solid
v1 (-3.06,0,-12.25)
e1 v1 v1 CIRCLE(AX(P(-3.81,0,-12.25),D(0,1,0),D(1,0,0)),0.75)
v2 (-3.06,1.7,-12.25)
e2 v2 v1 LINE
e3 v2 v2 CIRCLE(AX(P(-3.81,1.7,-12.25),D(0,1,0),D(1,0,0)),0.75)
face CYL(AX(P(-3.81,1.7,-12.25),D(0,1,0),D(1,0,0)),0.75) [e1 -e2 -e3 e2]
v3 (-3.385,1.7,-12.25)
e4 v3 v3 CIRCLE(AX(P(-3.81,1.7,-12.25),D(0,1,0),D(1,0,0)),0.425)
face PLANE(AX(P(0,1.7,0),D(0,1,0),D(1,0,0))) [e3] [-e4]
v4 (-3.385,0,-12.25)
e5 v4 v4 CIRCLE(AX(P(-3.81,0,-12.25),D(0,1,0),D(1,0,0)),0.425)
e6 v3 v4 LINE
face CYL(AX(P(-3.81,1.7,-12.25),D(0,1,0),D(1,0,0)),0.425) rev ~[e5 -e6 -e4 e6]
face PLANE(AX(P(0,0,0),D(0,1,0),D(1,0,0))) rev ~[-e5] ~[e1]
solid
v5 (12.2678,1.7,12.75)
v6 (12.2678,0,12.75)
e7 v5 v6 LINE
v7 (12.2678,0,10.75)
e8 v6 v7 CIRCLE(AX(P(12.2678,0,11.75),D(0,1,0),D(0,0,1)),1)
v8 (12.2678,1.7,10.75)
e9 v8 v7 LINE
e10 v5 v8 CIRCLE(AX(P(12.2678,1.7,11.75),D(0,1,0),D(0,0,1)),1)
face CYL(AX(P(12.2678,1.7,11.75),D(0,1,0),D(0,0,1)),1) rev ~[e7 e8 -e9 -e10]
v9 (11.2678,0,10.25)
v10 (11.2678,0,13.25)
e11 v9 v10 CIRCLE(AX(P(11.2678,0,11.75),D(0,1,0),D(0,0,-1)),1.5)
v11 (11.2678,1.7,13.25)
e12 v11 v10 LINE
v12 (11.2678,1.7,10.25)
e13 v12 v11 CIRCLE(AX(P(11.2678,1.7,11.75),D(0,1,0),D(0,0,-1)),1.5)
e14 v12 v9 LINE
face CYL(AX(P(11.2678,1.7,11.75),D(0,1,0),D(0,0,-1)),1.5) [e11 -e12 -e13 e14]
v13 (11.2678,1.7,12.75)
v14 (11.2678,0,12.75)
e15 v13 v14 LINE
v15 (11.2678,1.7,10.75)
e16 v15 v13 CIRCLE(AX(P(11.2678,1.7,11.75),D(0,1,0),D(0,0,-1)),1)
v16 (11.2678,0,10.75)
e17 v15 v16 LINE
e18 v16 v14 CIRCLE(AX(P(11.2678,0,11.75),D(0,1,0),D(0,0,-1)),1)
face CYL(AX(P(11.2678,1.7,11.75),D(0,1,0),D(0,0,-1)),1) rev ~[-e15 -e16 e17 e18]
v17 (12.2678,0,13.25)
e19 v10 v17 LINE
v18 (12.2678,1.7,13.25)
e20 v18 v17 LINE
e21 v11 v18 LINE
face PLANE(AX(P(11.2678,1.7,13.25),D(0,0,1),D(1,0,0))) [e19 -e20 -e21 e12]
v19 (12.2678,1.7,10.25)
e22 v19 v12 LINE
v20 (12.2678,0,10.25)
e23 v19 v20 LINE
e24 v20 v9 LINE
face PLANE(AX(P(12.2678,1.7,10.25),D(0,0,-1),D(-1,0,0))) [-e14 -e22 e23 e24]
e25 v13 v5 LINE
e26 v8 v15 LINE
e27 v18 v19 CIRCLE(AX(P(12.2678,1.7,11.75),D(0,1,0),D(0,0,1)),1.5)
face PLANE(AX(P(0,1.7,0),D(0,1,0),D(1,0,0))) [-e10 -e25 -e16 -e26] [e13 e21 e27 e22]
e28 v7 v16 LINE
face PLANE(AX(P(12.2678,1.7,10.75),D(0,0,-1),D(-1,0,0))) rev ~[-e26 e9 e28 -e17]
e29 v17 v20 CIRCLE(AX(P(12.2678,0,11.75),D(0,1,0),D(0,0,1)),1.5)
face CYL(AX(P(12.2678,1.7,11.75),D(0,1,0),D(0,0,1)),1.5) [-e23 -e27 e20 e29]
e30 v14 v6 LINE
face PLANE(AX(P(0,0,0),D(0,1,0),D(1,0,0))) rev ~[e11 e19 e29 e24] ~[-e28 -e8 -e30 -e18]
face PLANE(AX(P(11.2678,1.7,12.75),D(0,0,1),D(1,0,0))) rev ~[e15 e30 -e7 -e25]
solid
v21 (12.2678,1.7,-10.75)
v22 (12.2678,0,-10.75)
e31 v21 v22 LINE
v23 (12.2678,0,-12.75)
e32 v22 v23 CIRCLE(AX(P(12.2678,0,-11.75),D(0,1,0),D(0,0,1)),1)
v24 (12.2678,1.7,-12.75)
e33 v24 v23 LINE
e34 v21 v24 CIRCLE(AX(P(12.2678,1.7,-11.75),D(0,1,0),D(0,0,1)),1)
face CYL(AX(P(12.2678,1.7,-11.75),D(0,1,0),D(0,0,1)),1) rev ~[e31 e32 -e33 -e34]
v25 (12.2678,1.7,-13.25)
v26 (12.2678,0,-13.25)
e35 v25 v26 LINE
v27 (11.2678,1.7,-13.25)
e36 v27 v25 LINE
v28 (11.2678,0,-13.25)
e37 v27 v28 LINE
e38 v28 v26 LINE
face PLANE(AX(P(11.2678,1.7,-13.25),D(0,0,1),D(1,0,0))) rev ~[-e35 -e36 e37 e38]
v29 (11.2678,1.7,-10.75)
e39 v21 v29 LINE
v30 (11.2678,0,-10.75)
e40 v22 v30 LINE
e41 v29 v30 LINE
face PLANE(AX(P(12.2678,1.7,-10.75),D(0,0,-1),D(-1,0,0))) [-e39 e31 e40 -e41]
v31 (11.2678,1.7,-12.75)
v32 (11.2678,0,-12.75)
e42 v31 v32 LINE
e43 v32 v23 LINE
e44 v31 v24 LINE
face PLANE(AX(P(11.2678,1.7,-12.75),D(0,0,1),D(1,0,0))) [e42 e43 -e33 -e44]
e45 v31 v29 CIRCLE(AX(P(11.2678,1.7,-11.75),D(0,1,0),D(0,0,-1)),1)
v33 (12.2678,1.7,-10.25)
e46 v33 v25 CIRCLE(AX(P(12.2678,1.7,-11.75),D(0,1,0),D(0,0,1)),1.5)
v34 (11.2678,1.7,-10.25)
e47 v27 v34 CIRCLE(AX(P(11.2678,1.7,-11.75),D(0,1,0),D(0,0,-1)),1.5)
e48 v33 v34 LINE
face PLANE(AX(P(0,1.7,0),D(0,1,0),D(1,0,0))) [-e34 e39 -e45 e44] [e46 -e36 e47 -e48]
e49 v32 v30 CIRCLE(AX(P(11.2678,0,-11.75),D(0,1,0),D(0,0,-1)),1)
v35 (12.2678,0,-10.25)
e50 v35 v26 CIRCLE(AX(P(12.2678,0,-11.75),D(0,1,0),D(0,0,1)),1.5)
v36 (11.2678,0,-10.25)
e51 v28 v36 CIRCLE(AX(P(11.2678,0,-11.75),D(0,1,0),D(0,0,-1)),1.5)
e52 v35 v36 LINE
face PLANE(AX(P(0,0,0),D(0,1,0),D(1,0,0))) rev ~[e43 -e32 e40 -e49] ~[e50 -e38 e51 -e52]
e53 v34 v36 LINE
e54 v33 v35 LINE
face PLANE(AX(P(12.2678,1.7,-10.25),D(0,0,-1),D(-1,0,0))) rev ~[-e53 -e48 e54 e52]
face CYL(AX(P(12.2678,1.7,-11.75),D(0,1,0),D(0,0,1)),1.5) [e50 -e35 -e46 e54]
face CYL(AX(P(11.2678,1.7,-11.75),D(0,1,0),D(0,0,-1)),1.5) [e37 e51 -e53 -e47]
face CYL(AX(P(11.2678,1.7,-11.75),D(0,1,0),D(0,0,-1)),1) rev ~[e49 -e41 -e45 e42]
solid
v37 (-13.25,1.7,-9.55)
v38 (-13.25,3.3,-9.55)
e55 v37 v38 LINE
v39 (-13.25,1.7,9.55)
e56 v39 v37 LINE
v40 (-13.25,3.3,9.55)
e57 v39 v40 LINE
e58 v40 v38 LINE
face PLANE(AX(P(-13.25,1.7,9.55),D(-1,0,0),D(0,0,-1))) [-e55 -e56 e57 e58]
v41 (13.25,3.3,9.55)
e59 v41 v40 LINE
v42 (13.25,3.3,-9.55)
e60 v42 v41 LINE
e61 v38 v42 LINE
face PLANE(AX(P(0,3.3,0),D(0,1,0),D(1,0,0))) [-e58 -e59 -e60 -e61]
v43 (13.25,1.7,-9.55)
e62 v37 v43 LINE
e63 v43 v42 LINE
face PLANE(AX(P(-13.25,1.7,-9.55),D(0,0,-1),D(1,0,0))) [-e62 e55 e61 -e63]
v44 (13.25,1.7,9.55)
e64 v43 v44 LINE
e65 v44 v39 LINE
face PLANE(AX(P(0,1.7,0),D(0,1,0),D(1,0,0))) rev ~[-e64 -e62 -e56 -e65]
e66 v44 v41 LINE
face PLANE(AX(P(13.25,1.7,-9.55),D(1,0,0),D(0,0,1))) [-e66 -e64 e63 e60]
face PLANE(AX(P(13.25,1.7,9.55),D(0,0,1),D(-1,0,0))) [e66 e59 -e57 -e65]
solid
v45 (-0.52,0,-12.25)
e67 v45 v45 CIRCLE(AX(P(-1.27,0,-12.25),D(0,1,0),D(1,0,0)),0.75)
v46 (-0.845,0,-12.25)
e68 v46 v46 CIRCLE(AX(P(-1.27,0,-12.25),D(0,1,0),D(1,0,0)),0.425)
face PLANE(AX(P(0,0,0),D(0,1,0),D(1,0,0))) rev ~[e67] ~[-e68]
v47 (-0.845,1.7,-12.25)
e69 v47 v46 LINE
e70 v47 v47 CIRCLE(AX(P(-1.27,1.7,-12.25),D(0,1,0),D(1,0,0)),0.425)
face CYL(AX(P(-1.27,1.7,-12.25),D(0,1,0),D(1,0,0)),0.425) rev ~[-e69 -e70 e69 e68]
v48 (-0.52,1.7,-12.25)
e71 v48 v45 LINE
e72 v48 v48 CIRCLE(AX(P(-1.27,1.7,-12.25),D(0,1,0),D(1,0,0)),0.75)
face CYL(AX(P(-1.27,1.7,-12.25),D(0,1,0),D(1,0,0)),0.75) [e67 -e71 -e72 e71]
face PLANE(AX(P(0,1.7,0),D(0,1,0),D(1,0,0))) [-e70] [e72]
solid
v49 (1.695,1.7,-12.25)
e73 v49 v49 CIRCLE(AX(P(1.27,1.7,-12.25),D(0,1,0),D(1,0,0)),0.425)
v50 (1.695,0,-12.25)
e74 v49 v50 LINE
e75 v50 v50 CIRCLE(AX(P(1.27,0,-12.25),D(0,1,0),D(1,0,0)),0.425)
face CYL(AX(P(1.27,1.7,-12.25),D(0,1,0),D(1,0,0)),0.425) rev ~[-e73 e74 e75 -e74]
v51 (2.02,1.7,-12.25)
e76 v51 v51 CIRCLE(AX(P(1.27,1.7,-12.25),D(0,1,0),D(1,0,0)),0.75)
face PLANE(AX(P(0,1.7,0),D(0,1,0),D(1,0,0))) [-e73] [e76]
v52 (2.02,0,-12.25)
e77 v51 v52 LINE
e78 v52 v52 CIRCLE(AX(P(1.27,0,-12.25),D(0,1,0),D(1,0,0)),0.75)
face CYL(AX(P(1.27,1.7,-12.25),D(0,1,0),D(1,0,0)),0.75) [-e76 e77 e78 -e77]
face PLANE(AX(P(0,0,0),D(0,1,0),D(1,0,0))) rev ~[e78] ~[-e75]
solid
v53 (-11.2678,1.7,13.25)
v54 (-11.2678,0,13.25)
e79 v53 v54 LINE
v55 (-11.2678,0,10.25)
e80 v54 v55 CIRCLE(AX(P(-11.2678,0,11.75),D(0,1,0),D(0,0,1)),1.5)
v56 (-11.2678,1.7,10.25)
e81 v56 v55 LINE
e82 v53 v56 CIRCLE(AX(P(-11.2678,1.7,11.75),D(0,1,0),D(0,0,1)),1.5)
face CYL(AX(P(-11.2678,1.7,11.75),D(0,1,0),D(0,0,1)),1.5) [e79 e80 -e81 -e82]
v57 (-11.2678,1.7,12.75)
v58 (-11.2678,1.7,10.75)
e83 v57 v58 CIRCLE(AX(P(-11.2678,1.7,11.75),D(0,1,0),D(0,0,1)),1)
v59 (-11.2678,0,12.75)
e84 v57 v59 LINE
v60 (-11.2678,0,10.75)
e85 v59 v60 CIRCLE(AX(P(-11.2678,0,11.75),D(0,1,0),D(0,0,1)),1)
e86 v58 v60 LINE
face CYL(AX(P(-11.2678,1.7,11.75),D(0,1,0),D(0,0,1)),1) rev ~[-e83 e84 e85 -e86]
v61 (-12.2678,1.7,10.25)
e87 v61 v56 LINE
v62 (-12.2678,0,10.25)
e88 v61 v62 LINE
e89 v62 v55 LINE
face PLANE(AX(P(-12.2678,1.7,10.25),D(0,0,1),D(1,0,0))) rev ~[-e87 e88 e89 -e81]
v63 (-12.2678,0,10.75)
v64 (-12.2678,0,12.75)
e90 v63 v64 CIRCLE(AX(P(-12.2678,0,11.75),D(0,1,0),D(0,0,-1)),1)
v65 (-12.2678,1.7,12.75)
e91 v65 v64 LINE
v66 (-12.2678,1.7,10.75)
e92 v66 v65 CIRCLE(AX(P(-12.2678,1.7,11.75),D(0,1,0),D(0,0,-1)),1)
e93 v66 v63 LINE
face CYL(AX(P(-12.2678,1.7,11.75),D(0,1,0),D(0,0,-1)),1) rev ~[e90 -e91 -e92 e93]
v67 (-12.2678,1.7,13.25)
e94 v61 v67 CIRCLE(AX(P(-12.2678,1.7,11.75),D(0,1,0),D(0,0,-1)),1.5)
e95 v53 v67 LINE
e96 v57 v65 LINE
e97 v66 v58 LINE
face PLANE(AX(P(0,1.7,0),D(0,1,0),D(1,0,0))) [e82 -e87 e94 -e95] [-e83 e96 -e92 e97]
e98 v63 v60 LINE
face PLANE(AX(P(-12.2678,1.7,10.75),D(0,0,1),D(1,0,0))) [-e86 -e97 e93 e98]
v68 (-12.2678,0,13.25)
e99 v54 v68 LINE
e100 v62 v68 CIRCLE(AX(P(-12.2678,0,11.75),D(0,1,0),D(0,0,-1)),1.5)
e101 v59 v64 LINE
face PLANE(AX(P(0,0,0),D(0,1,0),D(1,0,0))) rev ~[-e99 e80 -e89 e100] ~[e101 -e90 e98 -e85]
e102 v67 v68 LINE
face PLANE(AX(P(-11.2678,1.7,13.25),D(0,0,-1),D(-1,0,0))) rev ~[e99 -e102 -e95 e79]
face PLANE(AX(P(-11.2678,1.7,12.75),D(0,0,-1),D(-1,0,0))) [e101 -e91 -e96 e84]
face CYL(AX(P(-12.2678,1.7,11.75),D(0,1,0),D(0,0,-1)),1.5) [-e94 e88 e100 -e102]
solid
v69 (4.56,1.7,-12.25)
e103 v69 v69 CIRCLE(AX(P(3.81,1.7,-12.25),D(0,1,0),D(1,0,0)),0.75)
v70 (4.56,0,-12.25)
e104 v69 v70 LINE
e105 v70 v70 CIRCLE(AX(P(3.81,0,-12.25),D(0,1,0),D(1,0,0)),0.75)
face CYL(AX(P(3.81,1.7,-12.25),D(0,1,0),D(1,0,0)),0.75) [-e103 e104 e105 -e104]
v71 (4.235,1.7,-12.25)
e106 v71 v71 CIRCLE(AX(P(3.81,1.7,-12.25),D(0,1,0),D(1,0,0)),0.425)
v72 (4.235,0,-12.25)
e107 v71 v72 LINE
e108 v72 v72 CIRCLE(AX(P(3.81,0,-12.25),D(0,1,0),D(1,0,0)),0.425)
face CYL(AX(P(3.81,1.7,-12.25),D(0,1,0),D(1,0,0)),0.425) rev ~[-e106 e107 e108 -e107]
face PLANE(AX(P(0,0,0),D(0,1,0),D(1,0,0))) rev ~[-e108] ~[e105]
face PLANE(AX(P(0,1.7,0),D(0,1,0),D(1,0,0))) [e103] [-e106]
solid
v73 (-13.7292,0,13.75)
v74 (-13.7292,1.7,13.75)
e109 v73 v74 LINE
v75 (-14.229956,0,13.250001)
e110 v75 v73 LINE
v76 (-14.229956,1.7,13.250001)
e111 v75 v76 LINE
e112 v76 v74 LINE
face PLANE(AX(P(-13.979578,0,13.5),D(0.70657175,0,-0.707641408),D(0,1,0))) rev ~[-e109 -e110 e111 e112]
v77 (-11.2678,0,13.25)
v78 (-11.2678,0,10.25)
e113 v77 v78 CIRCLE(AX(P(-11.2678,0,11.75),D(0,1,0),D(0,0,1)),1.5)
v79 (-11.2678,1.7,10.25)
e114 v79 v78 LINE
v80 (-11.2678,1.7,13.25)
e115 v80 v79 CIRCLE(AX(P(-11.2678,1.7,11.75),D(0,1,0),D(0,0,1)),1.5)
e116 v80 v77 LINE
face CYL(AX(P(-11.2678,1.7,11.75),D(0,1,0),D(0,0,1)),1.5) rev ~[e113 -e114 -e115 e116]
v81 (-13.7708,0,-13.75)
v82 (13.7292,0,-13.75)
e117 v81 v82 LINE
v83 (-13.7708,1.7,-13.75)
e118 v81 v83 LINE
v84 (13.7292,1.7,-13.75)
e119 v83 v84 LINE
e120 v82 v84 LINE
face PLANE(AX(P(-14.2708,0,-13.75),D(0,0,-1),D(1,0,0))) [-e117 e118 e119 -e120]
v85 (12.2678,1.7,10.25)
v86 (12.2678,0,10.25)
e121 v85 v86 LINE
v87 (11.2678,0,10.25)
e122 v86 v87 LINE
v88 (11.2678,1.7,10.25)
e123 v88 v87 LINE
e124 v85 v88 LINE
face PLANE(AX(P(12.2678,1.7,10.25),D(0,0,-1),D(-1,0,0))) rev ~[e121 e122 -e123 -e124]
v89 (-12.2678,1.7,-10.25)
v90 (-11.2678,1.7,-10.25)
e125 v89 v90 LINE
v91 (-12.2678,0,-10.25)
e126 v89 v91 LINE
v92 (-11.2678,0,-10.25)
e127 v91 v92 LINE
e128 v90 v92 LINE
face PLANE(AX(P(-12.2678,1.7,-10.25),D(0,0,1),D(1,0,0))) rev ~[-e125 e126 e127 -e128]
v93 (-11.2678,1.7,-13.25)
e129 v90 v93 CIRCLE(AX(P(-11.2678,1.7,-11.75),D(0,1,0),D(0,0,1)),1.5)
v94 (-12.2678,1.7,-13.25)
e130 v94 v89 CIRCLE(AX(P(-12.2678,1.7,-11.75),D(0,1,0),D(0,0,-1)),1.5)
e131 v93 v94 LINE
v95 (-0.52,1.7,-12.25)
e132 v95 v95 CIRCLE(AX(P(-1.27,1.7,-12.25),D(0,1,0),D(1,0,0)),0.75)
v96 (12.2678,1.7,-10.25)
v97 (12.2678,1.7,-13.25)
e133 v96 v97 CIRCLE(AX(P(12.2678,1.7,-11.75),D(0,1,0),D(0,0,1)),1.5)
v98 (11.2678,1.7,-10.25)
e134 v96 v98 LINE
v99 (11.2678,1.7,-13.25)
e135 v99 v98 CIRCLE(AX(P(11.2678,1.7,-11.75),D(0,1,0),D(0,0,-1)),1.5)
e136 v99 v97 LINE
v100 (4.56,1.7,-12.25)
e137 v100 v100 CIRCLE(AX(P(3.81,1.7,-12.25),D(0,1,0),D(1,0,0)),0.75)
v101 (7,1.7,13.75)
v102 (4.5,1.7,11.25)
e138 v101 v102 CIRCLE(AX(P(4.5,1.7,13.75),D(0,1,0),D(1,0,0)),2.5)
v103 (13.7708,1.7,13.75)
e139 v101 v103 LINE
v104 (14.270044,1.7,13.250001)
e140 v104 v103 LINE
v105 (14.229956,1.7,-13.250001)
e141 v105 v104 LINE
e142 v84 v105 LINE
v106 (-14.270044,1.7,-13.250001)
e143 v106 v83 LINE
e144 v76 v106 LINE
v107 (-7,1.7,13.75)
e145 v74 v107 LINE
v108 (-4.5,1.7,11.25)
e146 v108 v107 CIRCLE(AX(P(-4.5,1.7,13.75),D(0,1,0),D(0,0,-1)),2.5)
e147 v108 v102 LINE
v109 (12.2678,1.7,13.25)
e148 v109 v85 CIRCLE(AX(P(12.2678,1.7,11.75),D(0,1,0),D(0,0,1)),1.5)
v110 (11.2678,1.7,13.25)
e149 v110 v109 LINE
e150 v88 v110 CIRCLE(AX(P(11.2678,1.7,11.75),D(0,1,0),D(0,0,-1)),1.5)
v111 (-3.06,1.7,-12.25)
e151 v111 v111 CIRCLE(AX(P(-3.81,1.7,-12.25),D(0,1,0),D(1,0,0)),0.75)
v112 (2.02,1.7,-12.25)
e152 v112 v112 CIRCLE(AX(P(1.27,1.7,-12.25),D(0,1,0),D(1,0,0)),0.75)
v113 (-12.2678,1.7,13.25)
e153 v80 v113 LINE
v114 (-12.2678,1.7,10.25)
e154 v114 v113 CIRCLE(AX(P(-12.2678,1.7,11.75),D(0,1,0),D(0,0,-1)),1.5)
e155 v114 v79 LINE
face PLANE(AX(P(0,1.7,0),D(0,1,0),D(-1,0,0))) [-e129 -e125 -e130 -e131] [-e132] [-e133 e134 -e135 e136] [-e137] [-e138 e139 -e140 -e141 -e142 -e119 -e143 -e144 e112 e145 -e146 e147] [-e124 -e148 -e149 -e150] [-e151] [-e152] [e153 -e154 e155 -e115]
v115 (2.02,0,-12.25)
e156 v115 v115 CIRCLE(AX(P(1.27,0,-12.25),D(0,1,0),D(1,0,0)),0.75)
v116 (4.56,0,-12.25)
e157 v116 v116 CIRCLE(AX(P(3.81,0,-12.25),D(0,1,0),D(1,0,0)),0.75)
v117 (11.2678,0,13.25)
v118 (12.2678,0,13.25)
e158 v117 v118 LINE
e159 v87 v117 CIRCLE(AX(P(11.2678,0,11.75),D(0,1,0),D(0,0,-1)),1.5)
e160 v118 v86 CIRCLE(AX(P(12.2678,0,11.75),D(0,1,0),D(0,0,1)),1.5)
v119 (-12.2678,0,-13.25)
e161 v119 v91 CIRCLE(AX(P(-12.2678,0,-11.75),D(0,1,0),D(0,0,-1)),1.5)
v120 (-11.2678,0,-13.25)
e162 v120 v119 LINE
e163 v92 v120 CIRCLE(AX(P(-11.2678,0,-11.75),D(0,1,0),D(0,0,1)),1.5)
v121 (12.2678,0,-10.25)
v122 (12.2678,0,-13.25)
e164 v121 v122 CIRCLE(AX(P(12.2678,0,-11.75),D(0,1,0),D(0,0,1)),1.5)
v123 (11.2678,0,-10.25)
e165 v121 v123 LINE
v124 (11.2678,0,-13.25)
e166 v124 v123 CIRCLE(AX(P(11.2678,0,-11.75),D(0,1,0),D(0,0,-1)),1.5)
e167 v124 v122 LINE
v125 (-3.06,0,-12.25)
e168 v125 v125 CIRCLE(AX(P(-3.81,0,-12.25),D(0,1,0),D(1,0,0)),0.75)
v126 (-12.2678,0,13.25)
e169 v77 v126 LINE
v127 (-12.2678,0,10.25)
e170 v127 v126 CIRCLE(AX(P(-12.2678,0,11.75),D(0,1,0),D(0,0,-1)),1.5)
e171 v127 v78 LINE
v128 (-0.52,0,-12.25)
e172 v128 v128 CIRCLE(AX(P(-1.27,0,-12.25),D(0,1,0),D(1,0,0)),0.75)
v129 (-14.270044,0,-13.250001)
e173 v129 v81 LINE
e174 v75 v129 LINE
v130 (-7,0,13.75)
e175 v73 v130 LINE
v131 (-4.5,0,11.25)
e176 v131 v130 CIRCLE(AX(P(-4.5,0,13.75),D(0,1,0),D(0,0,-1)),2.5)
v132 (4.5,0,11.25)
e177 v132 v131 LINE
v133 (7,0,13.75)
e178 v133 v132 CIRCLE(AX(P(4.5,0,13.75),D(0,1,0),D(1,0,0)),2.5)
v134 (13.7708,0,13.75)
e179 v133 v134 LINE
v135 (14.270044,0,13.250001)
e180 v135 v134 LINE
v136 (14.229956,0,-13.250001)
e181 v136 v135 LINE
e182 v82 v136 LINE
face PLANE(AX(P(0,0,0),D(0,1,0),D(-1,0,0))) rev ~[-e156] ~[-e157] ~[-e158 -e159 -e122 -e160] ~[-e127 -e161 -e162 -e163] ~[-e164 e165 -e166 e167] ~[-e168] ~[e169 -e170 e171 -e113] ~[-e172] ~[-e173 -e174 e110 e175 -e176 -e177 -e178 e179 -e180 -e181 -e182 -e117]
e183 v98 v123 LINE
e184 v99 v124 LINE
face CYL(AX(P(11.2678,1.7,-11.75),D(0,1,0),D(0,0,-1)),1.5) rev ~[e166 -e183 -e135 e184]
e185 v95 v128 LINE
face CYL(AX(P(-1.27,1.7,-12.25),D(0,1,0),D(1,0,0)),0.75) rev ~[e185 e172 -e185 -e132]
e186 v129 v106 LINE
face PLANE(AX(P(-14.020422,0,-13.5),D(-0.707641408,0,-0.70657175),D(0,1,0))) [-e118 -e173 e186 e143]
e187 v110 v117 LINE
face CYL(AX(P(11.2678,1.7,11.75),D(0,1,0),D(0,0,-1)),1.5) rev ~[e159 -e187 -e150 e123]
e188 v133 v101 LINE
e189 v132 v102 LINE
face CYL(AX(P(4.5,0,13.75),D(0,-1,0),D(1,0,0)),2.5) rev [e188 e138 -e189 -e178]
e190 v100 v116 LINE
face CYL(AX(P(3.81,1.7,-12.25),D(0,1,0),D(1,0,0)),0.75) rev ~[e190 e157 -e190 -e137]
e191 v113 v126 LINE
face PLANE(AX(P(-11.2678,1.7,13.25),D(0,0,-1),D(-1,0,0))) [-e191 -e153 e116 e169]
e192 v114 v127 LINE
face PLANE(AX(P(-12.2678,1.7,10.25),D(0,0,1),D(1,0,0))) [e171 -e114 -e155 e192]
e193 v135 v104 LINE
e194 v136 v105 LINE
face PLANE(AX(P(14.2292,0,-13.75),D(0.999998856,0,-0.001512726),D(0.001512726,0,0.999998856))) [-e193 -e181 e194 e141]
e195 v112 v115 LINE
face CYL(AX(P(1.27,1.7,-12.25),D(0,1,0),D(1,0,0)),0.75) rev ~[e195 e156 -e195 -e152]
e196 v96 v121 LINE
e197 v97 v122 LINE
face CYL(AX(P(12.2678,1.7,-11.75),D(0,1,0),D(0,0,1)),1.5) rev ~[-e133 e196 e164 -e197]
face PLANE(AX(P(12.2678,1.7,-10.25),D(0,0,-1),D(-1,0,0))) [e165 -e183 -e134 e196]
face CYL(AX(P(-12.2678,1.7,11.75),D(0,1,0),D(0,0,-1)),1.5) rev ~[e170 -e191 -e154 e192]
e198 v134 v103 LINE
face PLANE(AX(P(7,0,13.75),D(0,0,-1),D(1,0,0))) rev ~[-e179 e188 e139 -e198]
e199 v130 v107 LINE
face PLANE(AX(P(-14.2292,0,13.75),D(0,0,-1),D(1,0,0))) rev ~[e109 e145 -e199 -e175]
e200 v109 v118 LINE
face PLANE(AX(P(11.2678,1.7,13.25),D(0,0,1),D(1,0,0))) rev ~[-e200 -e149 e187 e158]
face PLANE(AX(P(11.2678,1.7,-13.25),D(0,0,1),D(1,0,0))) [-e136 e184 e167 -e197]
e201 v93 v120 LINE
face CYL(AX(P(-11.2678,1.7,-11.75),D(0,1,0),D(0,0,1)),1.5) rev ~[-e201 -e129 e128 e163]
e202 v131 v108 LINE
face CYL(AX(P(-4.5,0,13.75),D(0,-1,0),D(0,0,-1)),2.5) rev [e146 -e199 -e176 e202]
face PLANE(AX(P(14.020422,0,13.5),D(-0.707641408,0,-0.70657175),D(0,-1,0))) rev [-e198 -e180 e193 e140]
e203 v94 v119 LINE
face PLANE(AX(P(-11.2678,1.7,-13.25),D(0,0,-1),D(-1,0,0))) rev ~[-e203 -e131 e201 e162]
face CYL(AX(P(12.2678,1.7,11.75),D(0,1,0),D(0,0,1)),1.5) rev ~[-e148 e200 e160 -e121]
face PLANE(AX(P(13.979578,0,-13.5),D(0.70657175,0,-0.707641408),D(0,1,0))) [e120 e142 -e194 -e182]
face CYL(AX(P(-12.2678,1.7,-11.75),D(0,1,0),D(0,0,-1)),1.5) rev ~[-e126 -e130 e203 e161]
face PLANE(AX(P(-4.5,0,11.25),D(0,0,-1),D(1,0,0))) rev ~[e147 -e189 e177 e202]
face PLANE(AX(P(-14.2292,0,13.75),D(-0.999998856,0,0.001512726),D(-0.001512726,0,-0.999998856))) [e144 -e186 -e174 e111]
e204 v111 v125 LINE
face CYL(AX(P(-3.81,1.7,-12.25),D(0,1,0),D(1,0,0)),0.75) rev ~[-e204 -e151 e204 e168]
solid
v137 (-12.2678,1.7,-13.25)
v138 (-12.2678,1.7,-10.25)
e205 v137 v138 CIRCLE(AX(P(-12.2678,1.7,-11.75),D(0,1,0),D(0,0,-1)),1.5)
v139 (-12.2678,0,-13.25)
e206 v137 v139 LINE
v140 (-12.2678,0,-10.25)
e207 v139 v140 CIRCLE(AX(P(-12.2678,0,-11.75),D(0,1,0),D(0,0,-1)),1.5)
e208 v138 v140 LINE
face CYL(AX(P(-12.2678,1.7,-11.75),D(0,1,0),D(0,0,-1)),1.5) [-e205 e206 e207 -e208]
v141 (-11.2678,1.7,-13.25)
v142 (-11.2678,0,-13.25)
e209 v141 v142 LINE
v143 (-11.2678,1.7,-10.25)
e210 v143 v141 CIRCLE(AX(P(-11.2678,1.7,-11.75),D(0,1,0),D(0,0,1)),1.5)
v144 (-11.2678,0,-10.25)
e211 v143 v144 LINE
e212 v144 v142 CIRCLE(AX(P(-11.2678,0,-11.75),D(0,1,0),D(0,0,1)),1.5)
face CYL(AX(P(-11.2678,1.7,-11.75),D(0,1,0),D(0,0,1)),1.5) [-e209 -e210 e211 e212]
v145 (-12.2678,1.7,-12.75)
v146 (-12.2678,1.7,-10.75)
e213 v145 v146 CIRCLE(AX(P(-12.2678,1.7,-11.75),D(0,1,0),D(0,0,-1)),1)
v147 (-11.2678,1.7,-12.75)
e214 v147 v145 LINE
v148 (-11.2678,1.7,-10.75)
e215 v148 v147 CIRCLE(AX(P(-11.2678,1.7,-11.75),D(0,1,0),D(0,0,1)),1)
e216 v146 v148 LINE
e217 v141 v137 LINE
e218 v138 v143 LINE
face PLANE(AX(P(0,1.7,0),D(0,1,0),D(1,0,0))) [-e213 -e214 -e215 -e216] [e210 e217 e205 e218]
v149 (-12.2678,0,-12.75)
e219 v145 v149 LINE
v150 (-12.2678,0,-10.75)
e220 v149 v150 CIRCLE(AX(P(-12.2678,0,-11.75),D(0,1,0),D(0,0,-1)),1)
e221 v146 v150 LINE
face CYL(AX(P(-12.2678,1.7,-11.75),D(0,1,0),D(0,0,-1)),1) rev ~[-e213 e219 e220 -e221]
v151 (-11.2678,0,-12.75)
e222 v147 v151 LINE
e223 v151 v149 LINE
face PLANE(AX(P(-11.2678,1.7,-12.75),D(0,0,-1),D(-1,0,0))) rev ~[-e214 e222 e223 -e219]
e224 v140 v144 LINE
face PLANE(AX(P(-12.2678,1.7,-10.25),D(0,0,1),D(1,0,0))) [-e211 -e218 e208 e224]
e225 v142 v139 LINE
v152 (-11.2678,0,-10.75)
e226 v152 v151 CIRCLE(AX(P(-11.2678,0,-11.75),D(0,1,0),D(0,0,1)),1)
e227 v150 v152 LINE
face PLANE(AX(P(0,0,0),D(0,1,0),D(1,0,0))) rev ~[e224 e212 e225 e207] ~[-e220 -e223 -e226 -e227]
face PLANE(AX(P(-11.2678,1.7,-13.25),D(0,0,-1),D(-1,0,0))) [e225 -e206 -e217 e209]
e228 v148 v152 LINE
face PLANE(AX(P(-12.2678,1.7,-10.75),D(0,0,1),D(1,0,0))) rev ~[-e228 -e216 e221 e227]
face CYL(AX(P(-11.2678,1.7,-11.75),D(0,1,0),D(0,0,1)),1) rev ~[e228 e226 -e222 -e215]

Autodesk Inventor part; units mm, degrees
ref_plane "YZ Plane" through (0, 0, 0) normal (1, 0, 0) x (0, 1, 0)
ref_plane "XZ Plane" through (0, 0, 0) normal (0, 1, 0) x (-1, 0, 0)
ref_plane "XY Plane" through (0, 0, 0) normal (0, 0, 1) x (1, 0, 0)
sketch "Sketch1" plane through (0, 0, 0) normal (0, 1, 0) x (-1, 0, 0)
  line L0 (14.2292, 13.75) -> (14.2708, -13.75)
  line L1 (14.2708, -13.75) -> (-14.2292, -13.75)
  line L2 (-14.2292, -13.75) -> (-14.2708, 13.75)
  line L3 (-14.2708, 13.75) -> (14.2708, -13.75) construction
  line L4 (14.2292, 13.75) -> (-14.2292, -13.75) construction
  line L5 (14.2292, 13.75) -> (7, 13.75)
  line L6 (4.5, 11.25) -> (-4.5, 11.25)
  line L7 (-7, 13.75) -> (-14.2708, 13.75)
  arc A0 (-7, 13.75) -> (-4.5, 11.25) centre (-4.5, 13.75) ccw
  arc A1 (4.5, 11.25) -> (7, 13.75) centre (4.5, 13.75) ccw
  line L8 (0, 0) -> (0, -4.4345)
  line L9 (0, 11.25) -> (0, 7.5255)
  dimension "d0" = 28.5
  dimension "d1" = 27.5
  dimension "d2" = 2.5
  dimension "d3" = 14
extrude "Extrusion1" add sketch "Sketch1" along normal blind 1.7
chamfer "Chamfer1" distance 0.5 angle 45 4 edges at (14.2708, 0.85, 13.75) (-14.2292, 0.85, 13.75) (14.2292, 0.85, -13.75) (-14.2708, 0.85, -13.75)
sketch "Sketch2" plane through (0, 1.7, 0) normal (0, 1, 0) x (1, 0, 0)
  line L0 (-13.2678, 11.75) -> (-10.2678, 11.75) construction
  line L1 (-12.2678, 10.75) -> (-11.2678, 10.75)
  line L2 (-11.2678, 12.75) -> (-12.2678, 12.75)
  arc A0 (-12.2678, 12.75) -> (-12.2678, 10.75) centre (-12.2678, 11.75) ccw
  arc A1 (-11.2678, 10.75) -> (-11.2678, 12.75) centre (-11.2678, 11.75) ccw
  line L3 (-11.2678, 13.25) -> (-12.2678, 13.25)
  arc A2 (-12.2678, 13.25) -> (-12.2678, 10.25) centre (-12.2678, 11.75) ccw
  line L4 (-12.2678, 10.25) -> (-11.2678, 10.25)
  arc A3 (-11.2678, 10.25) -> (-11.2678, 13.25) centre (-11.2678, 11.75) ccw
  line L5 (13.7292, 13.75) -> (-13.7708, 13.75) projected
  line L6 (-14.2701, 13.25) -> (-14.2299, -13.25) projected
  line L7 (0, 0) -> (-2.3297, 0)
  line L8 (0, 0) -> (0, 4.8141)
  line L9 (13.2678, 11.75) -> (10.2678, 11.75) construction
  line L10 (12.2678, 10.75) -> (11.2678, 10.75)
  line L11 (11.2678, 12.75) -> (12.2678, 12.75)
  arc A4 (12.2678, 10.75) -> (12.2678, 12.75) centre (12.2678, 11.75) ccw
  arc A5 (11.2678, 12.75) -> (11.2678, 10.75) centre (11.2678, 11.75) ccw
  line L12 (11.2678, 13.25) -> (12.2678, 13.25)
  arc A6 (12.2678, 10.25) -> (12.2678, 13.25) centre (12.2678, 11.75) ccw
  line L13 (12.2678, 10.25) -> (11.2678, 10.25)
  arc A7 (11.2678, 13.25) -> (11.2678, 10.25) centre (11.2678, 11.75) ccw
  line L14 (-13.2678, -11.75) -> (-10.2678, -11.75) construction
  line L15 (-12.2678, -10.75) -> (-11.2678, -10.75)
  line L16 (-11.2678, -12.75) -> (-12.2678, -12.75)
  arc A8 (-12.2678, -10.75) -> (-12.2678, -12.75) centre (-12.2678, -11.75) ccw
  arc A9 (-11.2678, -12.75) -> (-11.2678, -10.75) centre (-11.2678, -11.75) ccw
  line L17 (-11.2678, -13.25) -> (-12.2678, -13.25)
  arc A10 (-12.2678, -10.25) -> (-12.2678, -13.25) centre (-12.2678, -11.75) ccw
  line L18 (-12.2678, -10.25) -> (-11.2678, -10.25)
  arc A11 (-11.2678, -13.25) -> (-11.2678, -10.25) centre (-11.2678, -11.75) ccw
  line L19 (12.2678, -10.25) -> (11.2678, -10.25)
  line L20 (12.2678, -10.75) -> (11.2678, -10.75)
  line L21 (11.2678, -12.75) -> (12.2678, -12.75)
  arc A12 (12.2678, -12.75) -> (12.2678, -10.75) centre (12.2678, -11.75) ccw
  arc A13 (11.2678, -10.75) -> (11.2678, -12.75) centre (11.2678, -11.75) ccw
  arc A14 (11.2678, -10.25) -> (11.2678, -13.25) centre (11.2678, -11.75) ccw
  arc A15 (12.2678, -13.25) -> (12.2678, -10.25) centre (12.2678, -11.75) ccw
  line L22 (11.2678, -13.25) -> (12.2678, -13.25)
  line L23 (13.2678, -11.75) -> (10.2678, -11.75) construction
  circle A16 centre (-3.81, 12.25) radius 0.75
  circle A17 centre (-1.27, 12.25) radius 0.75
  circle A18 centre (1.27, 12.25) radius 0.75
  circle A19 centre (3.81, 12.25) radius 0.75
  circle A20 centre (-3.81, 12.25) radius 0.425
  circle A21 centre (-1.27, 12.25) radius 0.425
  circle A22 centre (1.27, 12.25) radius 0.425
  circle A23 centre (3.81, 12.25) radius 0.425
  point P0 (-11.7678, 11.75)
  point P1 (11.7678, 11.75)
  point P2 (-11.7678, -11.75)
  point P3 (11.7678, -11.75)
  dimension "d9" = 3
  dimension "d10" = 2
  dimension "d11" = 0.5
  dimension "d12" = 0.5
  dimension "d13" = 2
  dimension "d22" = 2.54
  dimension "d23" = 2.54
  dimension "d24" = 2.54
  dimension "d25" = 1.5
  dimension "d26" = 0.85
  dimension "d27" = 1.5
extrude "Extrusion2" cut sketch "Sketch2" against normal through all contours A0 L2 A1 L1 | A3 L4 A2 L3 | L10 A5 L11 A4 | L12 A6 L13 A7 | L15 A9 L16 A8 | L17 A10 L18 A11 | A15 L22 A14 L19 | A12 L21 A13 L20 | A16 | A17 | A18 | A19 | A20 | A21 | A22 | A23
extrude "Extrusion3" add sketch "Sketch2" against normal up to surface (1.7 mm away) separate body
sketch "Sketch3" plane through (0, 1.7, 0) normal (0, 1, 0) x (1, 0, 0)
  line L0 (-13.25, 9.55) -> (13.25, 9.55)
  line L1 (13.25, 9.55) -> (13.25, -9.55)
  line L2 (13.25, -9.55) -> (-13.25, -9.55)
  line L3 (-13.25, -9.55) -> (-13.25, 9.55)
  line L4 (-13.25, 9.55) -> (13.25, -9.55) construction
  line L5 (13.25, 9.55) -> (-13.25, -9.55) construction
  point P0 (0, 0)
  point P1 (0, 0)
  point P2 (0, 0)
  point P3 (0, 0)
  dimension "d18" = 19.1
  dimension "d19" = 26.5
extrude "Extrusion4" add sketch "Sketch3" along normal blind 1.6 separate body
properties part number "SSD1306"
